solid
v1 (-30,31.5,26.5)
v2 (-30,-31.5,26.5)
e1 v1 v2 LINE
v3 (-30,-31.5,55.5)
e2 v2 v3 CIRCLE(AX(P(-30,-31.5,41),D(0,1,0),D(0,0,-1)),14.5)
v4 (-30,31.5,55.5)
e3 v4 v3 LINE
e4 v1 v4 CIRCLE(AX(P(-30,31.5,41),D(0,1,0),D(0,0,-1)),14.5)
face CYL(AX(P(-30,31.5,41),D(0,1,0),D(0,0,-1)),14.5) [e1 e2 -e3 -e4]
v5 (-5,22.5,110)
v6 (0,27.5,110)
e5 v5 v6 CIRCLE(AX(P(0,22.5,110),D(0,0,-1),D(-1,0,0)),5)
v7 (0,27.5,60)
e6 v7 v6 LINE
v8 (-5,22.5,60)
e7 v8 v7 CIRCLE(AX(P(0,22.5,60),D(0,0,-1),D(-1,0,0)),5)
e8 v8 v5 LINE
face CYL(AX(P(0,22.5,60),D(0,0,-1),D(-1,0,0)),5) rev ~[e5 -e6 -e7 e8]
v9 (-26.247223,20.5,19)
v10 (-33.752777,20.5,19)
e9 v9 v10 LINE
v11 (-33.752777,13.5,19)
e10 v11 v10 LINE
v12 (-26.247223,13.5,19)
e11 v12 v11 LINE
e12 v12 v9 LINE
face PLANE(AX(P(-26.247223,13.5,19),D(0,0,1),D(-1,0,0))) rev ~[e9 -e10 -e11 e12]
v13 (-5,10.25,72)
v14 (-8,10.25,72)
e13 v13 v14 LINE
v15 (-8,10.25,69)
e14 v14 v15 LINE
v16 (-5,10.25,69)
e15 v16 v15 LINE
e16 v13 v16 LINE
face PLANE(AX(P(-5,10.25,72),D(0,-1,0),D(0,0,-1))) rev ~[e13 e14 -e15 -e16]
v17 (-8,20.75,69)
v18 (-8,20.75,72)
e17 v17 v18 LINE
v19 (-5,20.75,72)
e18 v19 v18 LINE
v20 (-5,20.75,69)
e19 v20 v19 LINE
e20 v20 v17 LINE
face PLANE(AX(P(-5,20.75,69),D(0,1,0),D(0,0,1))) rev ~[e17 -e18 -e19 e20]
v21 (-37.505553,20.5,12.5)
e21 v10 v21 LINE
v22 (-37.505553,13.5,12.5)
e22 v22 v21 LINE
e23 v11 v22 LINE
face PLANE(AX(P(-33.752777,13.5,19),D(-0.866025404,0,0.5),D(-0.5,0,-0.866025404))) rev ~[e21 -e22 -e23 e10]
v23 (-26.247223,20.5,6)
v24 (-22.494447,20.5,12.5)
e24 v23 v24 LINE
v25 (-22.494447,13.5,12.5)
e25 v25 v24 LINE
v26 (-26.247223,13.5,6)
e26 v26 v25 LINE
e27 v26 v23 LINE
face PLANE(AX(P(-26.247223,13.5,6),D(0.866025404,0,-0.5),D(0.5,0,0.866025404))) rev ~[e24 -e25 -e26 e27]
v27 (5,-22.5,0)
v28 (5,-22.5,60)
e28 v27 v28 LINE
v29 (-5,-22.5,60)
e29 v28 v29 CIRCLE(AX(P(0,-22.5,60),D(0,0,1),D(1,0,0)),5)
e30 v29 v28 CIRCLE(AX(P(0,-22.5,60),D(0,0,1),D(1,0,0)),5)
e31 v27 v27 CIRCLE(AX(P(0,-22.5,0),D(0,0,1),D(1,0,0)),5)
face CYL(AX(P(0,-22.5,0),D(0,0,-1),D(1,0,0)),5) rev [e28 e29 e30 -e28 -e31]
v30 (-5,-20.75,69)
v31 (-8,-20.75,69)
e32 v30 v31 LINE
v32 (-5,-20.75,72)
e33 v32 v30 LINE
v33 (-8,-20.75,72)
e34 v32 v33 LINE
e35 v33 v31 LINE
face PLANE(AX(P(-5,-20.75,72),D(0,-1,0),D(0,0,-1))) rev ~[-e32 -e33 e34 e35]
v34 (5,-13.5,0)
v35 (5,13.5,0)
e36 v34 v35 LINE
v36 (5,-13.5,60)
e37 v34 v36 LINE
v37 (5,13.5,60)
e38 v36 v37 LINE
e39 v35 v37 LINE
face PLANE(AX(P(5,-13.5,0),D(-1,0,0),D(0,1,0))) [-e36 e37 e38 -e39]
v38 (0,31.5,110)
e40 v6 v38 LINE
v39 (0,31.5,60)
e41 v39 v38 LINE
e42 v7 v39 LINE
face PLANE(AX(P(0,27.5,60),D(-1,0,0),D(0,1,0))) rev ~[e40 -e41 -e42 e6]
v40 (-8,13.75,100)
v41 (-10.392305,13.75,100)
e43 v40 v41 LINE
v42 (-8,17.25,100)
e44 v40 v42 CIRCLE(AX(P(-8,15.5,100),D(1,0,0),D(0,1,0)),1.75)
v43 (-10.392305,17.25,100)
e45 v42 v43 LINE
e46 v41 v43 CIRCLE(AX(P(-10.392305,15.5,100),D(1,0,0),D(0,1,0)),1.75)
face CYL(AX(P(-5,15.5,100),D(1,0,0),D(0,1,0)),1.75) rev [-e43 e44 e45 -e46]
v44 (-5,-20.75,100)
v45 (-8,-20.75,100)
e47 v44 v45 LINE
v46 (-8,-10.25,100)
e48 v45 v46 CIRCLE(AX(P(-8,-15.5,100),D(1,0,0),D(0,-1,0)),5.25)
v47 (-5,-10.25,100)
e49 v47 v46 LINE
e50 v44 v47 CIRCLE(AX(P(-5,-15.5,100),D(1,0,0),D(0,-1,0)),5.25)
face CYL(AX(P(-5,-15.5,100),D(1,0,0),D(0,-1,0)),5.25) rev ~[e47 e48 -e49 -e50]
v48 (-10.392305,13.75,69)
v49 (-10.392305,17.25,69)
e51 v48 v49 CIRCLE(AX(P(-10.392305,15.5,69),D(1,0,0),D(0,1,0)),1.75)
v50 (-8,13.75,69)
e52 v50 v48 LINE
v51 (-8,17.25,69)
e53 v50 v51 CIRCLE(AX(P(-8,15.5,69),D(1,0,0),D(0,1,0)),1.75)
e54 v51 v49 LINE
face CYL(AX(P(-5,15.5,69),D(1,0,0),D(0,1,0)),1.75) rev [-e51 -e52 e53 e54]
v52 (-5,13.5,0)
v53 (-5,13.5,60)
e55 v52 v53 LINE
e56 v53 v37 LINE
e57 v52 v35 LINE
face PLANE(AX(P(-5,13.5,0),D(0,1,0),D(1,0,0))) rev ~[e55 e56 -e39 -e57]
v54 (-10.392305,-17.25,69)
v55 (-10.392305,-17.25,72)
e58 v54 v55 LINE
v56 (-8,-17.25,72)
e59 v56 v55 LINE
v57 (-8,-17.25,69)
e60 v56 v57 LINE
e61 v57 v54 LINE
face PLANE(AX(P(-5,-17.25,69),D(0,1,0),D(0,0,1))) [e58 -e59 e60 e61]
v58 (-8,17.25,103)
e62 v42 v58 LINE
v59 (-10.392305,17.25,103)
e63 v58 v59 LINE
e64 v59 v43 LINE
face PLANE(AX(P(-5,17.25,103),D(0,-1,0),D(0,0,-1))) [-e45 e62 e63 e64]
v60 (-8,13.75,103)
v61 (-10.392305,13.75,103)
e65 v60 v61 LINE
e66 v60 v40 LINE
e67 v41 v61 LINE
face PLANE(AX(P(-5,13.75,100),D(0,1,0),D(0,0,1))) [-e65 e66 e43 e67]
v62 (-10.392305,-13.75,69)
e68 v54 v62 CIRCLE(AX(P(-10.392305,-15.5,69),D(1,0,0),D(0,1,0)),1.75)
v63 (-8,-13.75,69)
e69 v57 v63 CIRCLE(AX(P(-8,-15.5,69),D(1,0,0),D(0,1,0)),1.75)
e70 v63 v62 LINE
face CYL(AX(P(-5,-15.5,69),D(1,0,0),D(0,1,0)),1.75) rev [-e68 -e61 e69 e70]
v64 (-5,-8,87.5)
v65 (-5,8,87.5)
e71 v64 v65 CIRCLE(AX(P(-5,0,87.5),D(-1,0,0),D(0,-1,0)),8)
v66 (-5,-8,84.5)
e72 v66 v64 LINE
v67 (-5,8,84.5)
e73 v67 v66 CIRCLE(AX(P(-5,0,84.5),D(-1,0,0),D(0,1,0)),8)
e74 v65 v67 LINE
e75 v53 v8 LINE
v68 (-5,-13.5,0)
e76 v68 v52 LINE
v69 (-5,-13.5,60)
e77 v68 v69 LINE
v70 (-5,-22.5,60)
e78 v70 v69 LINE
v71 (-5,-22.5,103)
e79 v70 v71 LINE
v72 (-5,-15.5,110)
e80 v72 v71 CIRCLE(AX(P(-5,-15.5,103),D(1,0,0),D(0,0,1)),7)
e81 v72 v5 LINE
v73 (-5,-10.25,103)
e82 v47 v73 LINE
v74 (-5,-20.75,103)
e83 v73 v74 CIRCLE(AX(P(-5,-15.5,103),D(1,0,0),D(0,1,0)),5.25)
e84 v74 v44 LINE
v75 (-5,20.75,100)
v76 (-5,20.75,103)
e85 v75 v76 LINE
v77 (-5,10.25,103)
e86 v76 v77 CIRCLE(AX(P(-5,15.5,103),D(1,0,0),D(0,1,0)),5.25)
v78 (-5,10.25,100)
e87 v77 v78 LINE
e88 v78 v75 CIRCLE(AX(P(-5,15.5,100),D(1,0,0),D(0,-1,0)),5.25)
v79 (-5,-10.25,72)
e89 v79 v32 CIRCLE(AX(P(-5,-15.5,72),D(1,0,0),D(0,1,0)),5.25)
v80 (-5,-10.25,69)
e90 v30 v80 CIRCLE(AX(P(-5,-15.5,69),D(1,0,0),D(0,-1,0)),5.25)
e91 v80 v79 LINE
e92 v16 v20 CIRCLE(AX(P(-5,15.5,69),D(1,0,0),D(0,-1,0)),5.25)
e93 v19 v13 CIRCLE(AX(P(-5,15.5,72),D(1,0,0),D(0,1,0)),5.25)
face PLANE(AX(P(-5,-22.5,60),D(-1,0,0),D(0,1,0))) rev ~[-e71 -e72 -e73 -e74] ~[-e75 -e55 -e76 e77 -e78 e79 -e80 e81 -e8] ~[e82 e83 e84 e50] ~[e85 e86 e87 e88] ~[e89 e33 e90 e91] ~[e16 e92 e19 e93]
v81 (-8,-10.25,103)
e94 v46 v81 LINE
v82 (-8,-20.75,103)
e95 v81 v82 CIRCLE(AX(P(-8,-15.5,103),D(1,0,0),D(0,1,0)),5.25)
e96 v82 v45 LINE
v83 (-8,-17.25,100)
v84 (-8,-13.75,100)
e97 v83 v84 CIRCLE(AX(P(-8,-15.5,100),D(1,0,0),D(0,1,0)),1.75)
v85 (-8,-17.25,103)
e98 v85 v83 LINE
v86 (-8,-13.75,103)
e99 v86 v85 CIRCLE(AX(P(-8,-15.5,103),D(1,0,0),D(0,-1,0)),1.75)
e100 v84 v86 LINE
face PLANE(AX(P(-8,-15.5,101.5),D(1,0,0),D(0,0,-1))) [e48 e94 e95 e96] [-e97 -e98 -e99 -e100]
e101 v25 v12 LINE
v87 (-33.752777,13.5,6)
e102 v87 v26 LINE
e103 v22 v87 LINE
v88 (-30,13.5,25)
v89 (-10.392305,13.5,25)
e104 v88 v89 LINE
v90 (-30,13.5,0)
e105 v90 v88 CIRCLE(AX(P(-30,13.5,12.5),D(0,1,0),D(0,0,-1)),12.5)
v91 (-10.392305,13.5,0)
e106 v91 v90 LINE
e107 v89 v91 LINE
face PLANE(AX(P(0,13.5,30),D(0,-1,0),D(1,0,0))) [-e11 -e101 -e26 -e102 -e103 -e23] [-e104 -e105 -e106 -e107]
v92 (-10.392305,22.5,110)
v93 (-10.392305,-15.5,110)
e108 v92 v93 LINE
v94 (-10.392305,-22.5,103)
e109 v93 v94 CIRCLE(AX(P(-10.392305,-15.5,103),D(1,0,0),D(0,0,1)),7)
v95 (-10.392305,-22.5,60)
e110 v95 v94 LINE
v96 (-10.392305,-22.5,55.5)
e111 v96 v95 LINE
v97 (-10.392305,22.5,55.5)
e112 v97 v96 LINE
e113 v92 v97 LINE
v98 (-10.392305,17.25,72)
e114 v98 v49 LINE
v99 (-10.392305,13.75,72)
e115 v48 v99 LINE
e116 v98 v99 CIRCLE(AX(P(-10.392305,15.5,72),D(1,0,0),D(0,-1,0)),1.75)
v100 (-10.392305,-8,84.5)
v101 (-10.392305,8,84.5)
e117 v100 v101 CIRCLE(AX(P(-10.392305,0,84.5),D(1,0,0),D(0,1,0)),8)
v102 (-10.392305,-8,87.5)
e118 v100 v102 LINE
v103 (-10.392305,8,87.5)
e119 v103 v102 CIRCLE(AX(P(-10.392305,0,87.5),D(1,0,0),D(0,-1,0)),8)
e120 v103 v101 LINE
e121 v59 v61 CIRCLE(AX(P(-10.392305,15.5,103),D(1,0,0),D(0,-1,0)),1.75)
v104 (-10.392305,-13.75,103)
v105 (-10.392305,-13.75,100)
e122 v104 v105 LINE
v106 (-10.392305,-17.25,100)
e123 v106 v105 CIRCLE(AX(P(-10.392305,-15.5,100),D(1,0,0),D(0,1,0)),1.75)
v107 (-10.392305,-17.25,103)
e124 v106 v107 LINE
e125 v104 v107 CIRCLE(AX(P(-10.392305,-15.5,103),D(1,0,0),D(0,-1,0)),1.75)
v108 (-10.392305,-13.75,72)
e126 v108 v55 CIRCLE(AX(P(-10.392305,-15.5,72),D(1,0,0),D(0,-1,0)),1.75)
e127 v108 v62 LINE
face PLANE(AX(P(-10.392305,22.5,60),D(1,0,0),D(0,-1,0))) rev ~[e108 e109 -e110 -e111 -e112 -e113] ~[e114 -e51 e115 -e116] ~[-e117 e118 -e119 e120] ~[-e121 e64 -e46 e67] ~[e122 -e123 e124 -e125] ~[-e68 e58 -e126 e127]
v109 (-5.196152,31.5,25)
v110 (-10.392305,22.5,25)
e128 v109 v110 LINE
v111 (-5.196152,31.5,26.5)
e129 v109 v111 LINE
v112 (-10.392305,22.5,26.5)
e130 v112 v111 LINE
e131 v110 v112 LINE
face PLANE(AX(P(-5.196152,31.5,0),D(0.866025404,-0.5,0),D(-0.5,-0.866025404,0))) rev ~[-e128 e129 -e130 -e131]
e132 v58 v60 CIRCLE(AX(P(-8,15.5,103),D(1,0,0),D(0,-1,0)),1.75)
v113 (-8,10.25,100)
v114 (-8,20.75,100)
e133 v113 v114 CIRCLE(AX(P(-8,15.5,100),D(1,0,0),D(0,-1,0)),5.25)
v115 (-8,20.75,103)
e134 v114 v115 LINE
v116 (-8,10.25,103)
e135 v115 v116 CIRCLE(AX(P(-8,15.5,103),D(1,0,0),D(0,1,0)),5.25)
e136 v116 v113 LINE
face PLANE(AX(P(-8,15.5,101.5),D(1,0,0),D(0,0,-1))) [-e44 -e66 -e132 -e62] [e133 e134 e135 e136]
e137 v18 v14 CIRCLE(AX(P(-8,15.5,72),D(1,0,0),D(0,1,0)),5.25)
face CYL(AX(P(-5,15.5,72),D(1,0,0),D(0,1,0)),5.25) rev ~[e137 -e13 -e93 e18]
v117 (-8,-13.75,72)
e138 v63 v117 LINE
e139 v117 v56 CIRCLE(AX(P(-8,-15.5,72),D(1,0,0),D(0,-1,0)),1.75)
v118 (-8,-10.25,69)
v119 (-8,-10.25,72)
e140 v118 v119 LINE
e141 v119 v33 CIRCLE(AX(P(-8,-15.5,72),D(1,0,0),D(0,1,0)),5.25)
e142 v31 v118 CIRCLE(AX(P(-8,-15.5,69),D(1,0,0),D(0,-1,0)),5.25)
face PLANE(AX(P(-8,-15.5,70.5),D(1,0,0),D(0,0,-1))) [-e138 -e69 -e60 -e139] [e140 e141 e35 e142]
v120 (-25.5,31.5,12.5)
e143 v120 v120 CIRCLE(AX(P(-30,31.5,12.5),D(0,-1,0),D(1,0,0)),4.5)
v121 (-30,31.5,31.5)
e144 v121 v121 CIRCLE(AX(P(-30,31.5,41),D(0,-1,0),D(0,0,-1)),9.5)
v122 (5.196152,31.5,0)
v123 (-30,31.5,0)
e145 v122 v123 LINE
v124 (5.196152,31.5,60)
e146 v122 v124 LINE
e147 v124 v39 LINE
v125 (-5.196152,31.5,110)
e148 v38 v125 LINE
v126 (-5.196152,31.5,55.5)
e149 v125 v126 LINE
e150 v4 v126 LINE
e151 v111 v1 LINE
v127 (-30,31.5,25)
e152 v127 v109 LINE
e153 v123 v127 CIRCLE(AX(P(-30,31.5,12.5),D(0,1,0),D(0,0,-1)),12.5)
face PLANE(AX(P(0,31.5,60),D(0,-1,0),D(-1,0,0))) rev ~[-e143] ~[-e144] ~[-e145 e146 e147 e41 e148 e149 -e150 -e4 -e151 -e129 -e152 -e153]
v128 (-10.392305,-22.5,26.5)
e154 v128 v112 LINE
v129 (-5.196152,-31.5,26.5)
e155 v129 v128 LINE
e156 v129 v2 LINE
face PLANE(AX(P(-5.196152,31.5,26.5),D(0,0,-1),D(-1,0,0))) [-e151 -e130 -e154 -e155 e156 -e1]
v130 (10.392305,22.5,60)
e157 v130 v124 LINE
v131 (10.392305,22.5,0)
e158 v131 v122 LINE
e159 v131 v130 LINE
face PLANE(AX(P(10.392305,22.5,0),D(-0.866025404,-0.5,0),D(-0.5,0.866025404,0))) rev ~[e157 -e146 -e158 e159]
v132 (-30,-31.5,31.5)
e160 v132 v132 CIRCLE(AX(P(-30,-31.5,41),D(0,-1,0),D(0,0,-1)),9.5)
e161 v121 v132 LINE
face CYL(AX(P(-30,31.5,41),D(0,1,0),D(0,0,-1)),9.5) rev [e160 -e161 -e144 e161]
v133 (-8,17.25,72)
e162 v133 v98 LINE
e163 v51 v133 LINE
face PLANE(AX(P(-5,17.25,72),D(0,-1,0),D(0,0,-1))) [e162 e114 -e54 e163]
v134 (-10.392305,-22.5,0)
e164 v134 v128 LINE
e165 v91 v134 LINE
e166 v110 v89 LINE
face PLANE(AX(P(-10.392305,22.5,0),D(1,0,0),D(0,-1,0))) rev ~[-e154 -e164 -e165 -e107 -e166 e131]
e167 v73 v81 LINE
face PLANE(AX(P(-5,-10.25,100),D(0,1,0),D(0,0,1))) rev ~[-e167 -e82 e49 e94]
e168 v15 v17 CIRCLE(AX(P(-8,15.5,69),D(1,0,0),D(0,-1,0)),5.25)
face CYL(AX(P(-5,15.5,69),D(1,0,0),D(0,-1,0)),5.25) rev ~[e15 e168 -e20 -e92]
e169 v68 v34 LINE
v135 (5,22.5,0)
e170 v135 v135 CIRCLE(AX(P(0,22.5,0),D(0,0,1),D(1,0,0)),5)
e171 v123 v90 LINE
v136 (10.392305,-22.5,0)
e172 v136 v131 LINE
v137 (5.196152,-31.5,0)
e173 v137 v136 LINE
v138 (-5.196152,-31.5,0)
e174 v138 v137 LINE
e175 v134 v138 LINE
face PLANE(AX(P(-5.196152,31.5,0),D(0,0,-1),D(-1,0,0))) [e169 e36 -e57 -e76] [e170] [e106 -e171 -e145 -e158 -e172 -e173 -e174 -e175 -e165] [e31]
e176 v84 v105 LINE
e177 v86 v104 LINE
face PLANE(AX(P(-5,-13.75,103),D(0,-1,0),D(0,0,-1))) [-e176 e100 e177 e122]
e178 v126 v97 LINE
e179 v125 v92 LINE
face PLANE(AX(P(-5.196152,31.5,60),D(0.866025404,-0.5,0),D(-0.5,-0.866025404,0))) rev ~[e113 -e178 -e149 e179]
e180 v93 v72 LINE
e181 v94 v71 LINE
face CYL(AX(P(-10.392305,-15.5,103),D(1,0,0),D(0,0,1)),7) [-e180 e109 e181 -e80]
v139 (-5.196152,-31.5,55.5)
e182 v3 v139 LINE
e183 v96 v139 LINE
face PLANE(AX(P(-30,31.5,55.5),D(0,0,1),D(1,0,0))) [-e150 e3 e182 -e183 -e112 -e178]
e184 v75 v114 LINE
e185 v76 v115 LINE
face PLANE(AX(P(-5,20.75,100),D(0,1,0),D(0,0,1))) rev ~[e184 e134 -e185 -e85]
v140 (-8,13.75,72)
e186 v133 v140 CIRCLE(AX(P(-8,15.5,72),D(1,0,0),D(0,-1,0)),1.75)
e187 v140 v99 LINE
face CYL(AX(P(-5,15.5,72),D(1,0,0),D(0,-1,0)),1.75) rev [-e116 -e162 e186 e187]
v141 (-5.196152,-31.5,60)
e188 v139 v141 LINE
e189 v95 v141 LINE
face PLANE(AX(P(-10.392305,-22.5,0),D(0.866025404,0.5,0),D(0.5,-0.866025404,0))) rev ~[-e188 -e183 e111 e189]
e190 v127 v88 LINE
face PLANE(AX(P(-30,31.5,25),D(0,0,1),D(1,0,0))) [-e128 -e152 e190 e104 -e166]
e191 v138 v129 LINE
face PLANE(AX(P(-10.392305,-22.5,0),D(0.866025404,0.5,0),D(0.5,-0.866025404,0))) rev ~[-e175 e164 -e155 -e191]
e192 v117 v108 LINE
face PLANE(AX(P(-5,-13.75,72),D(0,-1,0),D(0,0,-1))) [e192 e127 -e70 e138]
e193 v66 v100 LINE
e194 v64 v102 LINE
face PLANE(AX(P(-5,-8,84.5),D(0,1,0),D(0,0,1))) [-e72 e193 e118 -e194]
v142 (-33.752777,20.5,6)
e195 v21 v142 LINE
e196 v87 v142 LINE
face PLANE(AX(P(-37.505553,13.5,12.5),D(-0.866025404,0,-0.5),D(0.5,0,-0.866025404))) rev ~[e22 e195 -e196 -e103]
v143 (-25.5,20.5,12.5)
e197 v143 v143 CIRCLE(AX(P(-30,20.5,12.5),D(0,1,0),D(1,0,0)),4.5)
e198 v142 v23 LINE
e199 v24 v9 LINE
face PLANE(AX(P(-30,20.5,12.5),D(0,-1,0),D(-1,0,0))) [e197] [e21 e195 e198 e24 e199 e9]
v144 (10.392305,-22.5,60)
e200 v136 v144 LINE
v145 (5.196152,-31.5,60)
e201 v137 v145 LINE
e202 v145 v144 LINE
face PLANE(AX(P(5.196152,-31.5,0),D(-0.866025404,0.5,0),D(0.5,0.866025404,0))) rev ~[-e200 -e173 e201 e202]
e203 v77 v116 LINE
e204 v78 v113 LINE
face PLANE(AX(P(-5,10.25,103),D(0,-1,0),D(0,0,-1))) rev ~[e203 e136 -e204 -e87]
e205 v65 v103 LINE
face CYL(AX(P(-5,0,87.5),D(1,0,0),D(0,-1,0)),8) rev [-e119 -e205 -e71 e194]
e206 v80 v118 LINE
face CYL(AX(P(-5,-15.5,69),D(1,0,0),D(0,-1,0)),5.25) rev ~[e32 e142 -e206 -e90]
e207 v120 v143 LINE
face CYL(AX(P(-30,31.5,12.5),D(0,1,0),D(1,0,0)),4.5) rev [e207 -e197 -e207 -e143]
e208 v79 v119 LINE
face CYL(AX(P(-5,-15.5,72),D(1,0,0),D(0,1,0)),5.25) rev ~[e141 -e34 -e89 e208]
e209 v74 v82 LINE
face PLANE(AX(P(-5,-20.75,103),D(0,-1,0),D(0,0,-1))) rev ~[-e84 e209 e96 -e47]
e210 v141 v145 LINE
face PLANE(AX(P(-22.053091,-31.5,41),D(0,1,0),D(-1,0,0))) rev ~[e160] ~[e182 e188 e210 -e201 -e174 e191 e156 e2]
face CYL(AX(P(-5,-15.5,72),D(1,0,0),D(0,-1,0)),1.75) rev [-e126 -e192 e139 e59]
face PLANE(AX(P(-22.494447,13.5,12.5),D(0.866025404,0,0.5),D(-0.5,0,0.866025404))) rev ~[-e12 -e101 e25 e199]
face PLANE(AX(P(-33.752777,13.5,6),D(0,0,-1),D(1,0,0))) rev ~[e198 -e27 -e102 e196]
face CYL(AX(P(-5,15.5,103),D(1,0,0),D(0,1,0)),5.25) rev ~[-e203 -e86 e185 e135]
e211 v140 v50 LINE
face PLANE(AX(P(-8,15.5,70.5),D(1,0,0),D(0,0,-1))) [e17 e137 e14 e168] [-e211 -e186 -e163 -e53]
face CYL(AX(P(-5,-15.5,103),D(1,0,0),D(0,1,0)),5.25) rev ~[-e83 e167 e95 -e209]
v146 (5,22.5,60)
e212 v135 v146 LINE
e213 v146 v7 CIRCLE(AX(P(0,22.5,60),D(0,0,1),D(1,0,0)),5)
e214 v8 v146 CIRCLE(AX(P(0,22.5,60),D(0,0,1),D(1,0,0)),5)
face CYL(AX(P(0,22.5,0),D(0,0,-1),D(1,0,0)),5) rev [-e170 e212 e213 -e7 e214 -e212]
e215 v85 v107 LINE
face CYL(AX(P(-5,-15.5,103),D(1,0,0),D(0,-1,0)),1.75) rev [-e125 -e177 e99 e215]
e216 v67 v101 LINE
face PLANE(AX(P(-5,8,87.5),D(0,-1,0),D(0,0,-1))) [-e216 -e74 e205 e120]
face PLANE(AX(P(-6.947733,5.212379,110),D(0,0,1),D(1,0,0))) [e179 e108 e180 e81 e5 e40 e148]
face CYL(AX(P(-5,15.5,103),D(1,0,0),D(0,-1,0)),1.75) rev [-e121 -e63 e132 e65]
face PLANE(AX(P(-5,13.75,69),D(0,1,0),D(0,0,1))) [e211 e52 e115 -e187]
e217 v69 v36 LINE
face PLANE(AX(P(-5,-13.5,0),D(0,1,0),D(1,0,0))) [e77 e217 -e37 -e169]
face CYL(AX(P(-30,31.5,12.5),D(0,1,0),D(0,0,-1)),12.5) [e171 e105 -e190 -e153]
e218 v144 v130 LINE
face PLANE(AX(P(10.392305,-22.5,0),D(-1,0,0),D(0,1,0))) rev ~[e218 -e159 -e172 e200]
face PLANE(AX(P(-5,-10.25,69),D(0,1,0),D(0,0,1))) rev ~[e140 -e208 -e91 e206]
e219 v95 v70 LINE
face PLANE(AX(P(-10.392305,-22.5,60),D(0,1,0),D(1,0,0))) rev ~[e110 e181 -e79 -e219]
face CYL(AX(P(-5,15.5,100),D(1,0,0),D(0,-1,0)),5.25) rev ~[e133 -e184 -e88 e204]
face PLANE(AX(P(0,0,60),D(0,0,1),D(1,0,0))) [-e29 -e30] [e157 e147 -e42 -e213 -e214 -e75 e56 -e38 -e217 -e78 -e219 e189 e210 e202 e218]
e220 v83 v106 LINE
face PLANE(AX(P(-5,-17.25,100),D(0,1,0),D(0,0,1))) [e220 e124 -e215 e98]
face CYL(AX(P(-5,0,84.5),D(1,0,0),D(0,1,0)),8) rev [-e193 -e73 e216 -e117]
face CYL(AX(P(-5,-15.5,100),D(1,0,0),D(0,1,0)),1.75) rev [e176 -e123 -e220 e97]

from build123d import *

# Parameters (mm, degrees)
SKETCH1_R           = 5
SKETCH1_W           = 10
SKETCH1_H           = 27
BOSS_EXTRUDE1_DEPTH = 60
BOSS_EXTRUDE2_REACH = 89.618
SKETCH2_R           = 4.5
CUT_EXTRUDE1_DEPTH  = 7
BOSS_EXTRUDE3_START = -63
SKETCH4_R           = 9.5
BOSS_EXTRUDE3_DEPTH = 63
BOSS_EXTRUDE5_DEPTH = 50
CUT_EXTRUDE16_DEPTH = 20
CUT_EXTRUDE2_DEPTH  = 3
FILLET1_R           = 7


with BuildPart() as part:
    # Sketch1 → Boss-Extrude1 (new body)
    with BuildSketch(Plane.XY):
        Polygon((-10.392304845, 22.5), (-10.392304845, -22.5), (-5.196152423, -31.5), (5.196152423, -31.5), (10.392304845, -22.5), (10.392304845, 22.5), (5.196152423, 31.5), (-5.196152423, 31.5), align=None)
        with Locations((0, 22.5)):
            Circle(SKETCH1_R, mode=Mode.SUBTRACT)
        with Locations((0, -22.5)):
            Circle(SKETCH1_R, mode=Mode.SUBTRACT)
        Rectangle(SKETCH1_W, SKETCH1_H, mode=Mode.SUBTRACT)
    extrude(amount=BOSS_EXTRUDE1_DEPTH)

    # Boss-Extrude2: up to this face of the body (flat: up to its plane)
    boss_extrude2_end = Plane(part.part.faces().sort_by_distance((0, 13.5, 30))[0])
    # Sketch2 → Boss-Extrude2 (add, up to the picked face)
    with BuildSketch(Plane.XZ.offset(-31.5), mode=Mode.PRIVATE) as boss_extrude2_sk1:
        with BuildLine():
            Line((-30, 25), (-5.196152423, 25))
            Line((-5.196152423, 25), (-5.196152423, 0))
            Line((-5.196152423, 0), (-30, 0))
            ThreePointArc((-30, 0), (-42.5, 12.5), (-30, 25))
        make_face()
        with Locations((-30, 12.5)):
            Circle(SKETCH2_R, mode=Mode.SUBTRACT)
    boss_extrude2_tool1 = split(extrude(boss_extrude2_sk1.sketch, amount=BOSS_EXTRUDE2_REACH, mode=Mode.PRIVATE), bisect_by=boss_extrude2_end, keep=Keep.BOTH, mode=Mode.PRIVATE)
    add(boss_extrude2_tool1.solids().sort_by(Axis((-22.0337, 31.5, 12.5), (0, -1, 0)))[0])

    # Sketch3 → Cut-Extrude1 (cut)
    with BuildSketch(Plane(origin=(0, 13.5, 0), x_dir=(-1, 0, 0), z_dir=(0, -1, 0))):
        Polygon((33.75277675, -6), (26.24722325, -6), (22.494446501, -12.5), (26.24722325, -19), (33.75277675, -19), (37.505553499, -12.5), align=None)
    extrude(amount=-CUT_EXTRUDE1_DEPTH, mode=Mode.SUBTRACT)

    # Sketch4 → Boss-Extrude3 (add)
    with BuildSketch(Plane.XZ.offset(31.5).offset(BOSS_EXTRUDE3_START)):
        with BuildLine():
            Line((-30, 55.5), (-5.196152423, 55.5))
            Line((-5.196152423, 55.5), (-5.196152423, 26.5))
            Line((-5.196152423, 26.5), (-30, 26.5))
            ThreePointArc((-30, 26.5), (-44.5, 41), (-30, 55.5))
        make_face()
        with Locations(Location((-30, 41, 0), (0, 0, 270))):
            Circle(SKETCH4_R, mode=Mode.SUBTRACT)
    extrude(amount=BOSS_EXTRUDE3_DEPTH)

    # Sketch34 → Boss-Extrude5 (add)
    with BuildSketch(Plane.XY.offset(60)):
        with BuildLine():
            Line((-10.392304845, 22.5), (-10.392304845, -22.5))
            Line((-10.392304845, -22.5), (-5, -22.5))
            Line((-5, -22.5), (-5, 22.5))
            ThreePointArc((-5, 22.5), (-3.535533906, 26.035533906), (0, 27.5))
            Line((0, 27.5), (0, 31.5))
            Line((0, 31.5), (-5.196152423, 31.5))
            Line((-5.196152423, 31.5), (-10.392304845, 22.5))
        make_face()
    extrude(amount=BOSS_EXTRUDE5_DEPTH)

    # Sketch26 → Cut-Extrude16 (cut)
    with BuildSketch(Plane(origin=(-5, -6.617020142, 13.078335781), x_dir=(0, 0, -1), z_dir=(1, 0, 0))):
        with BuildLine():
            Line((-89.921664219, 23.867020142), (-86.921664219, 23.867020142))
            ThreePointArc((-86.921664219, 23.867020142), (-85.171664219, 22.117020142), (-86.921664219, 20.367020142))
            Line((-86.921664219, 20.367020142), (-89.921664219, 20.367020142))
            ThreePointArc((-89.921664219, 20.367020142), (-91.671664219, 22.117020142), (-89.921664219, 23.867020142))
        make_face()
        with BuildLine():
            Line((-58.921664219, 23.867020142), (-55.921664219, 23.867020142))
            ThreePointArc((-55.921664219, 23.867020142), (-54.171664219, 22.117020142), (-55.921664219, 20.367020142))
            Line((-55.921664219, 20.367020142), (-58.921664219, 20.367020142))
            ThreePointArc((-58.921664219, 20.367020142), (-60.671664219, 22.117020142), (-58.921664219, 23.867020142))
        make_face()
        with BuildLine():
            Line((-58.921664219, -7.132979858), (-55.921664219, -7.132979858))
            ThreePointArc((-55.921664219, -7.132979858), (-54.171664219, -8.882979858), (-55.921664219, -10.632979858))
            Line((-55.921664219, -10.632979858), (-58.921664219, -10.632979858))
            ThreePointArc((-58.921664219, -10.632979858), (-60.671664219, -8.882979858), (-58.921664219, -7.132979858))
        make_face()
        with BuildLine():
            Line((-89.921664219, -7.132979858), (-86.921664219, -7.132979858))
            ThreePointArc((-86.921664219, -7.132979858), (-85.171664219, -8.882979858), (-86.921664219, -10.632979858))
            Line((-86.921664219, -10.632979858), (-89.921664219, -10.632979858))
            ThreePointArc((-89.921664219, -10.632979858), (-91.671664219, -8.882979858), (-89.921664219, -7.132979858))
        make_face()
        with BuildLine():
            Line((-74.421664219, 14.617020142), (-71.421664219, 14.617020142))
            ThreePointArc((-71.421664219, 14.617020142), (-63.421664219, 6.617020142), (-71.421664219, -1.382979858))
            Line((-71.421664219, -1.382979858), (-74.421664219, -1.382979858))
            ThreePointArc((-74.421664219, -1.382979858), (-82.421664219, 6.617020142), (-74.421664219, 14.617020142))
        make_face()
    extrude(amount=-CUT_EXTRUDE16_DEPTH, mode=Mode.SUBTRACT)

    # Sketch37 → Cut-Extrude2 (cut)
    with BuildSketch(Plane(origin=(-5, 8.494761854, 122.050976771), x_dir=(0, 0, -1), z_dir=(1, 0, 0))):
        with BuildLine():
            Line((22.050976771, 12.255238146), (19.050976771, 12.255238146))
            ThreePointArc((19.050976771, 12.255238146), (13.800976771, 7.005238146), (19.050976771, 1.755238146))
            Line((19.050976771, 1.755238146), (22.050976771, 1.755238146))
            ThreePointArc((22.050976771, 1.755238146), (27.300976771, 7.005238146), (22.050976771, 12.255238146))
        make_face()
        with BuildLine():
            Line((53.050976771, 12.255238146), (50.050976771, 12.255238146))
            ThreePointArc((50.050976771, 12.255238146), (44.800976771, 7.005238146), (50.050976771, 1.755238146))
            Line((50.050976771, 1.755238146), (53.050976771, 1.755238146))
            ThreePointArc((53.050976771, 1.755238146), (58.300976771, 7.005238146), (53.050976771, 12.255238146))
        make_face()
        with BuildLine():
            Line((53.050976771, -18.744761854), (50.050976771, -18.744761854))
            ThreePointArc((50.050976771, -18.744761854), (44.800976771, -23.994761854), (50.050976771, -29.244761854))
            Line((50.050976771, -29.244761854), (53.050976771, -29.244761854))
            ThreePointArc((53.050976771, -29.244761854), (58.300976771, -23.994761854), (53.050976771, -18.744761854))
        make_face()
        with BuildLine():
            Line((19.050976771, -29.244761854), (22.050976771, -29.244761854))
            ThreePointArc((22.050976771, -29.244761854), (27.300976771, -23.994761854), (22.050976771, -18.744761854))
            Line((22.050976771, -18.744761854), (19.050976771, -18.744761854))
            ThreePointArc((19.050976771, -18.744761854), (13.800976771, -23.994761854), (19.050976771, -29.244761854))
        make_face()
    extrude(amount=-CUT_EXTRUDE2_DEPTH, mode=Mode.SUBTRACT)

    # Fillet1
    fillet1_edges = [part.edges().sort_by_distance(p)[0] for p in [
        (-7.696152423, -22.5, 110),
    ]]
    fillet(fillet1_edges, radius=FILLET1_R)


solid = part.part
